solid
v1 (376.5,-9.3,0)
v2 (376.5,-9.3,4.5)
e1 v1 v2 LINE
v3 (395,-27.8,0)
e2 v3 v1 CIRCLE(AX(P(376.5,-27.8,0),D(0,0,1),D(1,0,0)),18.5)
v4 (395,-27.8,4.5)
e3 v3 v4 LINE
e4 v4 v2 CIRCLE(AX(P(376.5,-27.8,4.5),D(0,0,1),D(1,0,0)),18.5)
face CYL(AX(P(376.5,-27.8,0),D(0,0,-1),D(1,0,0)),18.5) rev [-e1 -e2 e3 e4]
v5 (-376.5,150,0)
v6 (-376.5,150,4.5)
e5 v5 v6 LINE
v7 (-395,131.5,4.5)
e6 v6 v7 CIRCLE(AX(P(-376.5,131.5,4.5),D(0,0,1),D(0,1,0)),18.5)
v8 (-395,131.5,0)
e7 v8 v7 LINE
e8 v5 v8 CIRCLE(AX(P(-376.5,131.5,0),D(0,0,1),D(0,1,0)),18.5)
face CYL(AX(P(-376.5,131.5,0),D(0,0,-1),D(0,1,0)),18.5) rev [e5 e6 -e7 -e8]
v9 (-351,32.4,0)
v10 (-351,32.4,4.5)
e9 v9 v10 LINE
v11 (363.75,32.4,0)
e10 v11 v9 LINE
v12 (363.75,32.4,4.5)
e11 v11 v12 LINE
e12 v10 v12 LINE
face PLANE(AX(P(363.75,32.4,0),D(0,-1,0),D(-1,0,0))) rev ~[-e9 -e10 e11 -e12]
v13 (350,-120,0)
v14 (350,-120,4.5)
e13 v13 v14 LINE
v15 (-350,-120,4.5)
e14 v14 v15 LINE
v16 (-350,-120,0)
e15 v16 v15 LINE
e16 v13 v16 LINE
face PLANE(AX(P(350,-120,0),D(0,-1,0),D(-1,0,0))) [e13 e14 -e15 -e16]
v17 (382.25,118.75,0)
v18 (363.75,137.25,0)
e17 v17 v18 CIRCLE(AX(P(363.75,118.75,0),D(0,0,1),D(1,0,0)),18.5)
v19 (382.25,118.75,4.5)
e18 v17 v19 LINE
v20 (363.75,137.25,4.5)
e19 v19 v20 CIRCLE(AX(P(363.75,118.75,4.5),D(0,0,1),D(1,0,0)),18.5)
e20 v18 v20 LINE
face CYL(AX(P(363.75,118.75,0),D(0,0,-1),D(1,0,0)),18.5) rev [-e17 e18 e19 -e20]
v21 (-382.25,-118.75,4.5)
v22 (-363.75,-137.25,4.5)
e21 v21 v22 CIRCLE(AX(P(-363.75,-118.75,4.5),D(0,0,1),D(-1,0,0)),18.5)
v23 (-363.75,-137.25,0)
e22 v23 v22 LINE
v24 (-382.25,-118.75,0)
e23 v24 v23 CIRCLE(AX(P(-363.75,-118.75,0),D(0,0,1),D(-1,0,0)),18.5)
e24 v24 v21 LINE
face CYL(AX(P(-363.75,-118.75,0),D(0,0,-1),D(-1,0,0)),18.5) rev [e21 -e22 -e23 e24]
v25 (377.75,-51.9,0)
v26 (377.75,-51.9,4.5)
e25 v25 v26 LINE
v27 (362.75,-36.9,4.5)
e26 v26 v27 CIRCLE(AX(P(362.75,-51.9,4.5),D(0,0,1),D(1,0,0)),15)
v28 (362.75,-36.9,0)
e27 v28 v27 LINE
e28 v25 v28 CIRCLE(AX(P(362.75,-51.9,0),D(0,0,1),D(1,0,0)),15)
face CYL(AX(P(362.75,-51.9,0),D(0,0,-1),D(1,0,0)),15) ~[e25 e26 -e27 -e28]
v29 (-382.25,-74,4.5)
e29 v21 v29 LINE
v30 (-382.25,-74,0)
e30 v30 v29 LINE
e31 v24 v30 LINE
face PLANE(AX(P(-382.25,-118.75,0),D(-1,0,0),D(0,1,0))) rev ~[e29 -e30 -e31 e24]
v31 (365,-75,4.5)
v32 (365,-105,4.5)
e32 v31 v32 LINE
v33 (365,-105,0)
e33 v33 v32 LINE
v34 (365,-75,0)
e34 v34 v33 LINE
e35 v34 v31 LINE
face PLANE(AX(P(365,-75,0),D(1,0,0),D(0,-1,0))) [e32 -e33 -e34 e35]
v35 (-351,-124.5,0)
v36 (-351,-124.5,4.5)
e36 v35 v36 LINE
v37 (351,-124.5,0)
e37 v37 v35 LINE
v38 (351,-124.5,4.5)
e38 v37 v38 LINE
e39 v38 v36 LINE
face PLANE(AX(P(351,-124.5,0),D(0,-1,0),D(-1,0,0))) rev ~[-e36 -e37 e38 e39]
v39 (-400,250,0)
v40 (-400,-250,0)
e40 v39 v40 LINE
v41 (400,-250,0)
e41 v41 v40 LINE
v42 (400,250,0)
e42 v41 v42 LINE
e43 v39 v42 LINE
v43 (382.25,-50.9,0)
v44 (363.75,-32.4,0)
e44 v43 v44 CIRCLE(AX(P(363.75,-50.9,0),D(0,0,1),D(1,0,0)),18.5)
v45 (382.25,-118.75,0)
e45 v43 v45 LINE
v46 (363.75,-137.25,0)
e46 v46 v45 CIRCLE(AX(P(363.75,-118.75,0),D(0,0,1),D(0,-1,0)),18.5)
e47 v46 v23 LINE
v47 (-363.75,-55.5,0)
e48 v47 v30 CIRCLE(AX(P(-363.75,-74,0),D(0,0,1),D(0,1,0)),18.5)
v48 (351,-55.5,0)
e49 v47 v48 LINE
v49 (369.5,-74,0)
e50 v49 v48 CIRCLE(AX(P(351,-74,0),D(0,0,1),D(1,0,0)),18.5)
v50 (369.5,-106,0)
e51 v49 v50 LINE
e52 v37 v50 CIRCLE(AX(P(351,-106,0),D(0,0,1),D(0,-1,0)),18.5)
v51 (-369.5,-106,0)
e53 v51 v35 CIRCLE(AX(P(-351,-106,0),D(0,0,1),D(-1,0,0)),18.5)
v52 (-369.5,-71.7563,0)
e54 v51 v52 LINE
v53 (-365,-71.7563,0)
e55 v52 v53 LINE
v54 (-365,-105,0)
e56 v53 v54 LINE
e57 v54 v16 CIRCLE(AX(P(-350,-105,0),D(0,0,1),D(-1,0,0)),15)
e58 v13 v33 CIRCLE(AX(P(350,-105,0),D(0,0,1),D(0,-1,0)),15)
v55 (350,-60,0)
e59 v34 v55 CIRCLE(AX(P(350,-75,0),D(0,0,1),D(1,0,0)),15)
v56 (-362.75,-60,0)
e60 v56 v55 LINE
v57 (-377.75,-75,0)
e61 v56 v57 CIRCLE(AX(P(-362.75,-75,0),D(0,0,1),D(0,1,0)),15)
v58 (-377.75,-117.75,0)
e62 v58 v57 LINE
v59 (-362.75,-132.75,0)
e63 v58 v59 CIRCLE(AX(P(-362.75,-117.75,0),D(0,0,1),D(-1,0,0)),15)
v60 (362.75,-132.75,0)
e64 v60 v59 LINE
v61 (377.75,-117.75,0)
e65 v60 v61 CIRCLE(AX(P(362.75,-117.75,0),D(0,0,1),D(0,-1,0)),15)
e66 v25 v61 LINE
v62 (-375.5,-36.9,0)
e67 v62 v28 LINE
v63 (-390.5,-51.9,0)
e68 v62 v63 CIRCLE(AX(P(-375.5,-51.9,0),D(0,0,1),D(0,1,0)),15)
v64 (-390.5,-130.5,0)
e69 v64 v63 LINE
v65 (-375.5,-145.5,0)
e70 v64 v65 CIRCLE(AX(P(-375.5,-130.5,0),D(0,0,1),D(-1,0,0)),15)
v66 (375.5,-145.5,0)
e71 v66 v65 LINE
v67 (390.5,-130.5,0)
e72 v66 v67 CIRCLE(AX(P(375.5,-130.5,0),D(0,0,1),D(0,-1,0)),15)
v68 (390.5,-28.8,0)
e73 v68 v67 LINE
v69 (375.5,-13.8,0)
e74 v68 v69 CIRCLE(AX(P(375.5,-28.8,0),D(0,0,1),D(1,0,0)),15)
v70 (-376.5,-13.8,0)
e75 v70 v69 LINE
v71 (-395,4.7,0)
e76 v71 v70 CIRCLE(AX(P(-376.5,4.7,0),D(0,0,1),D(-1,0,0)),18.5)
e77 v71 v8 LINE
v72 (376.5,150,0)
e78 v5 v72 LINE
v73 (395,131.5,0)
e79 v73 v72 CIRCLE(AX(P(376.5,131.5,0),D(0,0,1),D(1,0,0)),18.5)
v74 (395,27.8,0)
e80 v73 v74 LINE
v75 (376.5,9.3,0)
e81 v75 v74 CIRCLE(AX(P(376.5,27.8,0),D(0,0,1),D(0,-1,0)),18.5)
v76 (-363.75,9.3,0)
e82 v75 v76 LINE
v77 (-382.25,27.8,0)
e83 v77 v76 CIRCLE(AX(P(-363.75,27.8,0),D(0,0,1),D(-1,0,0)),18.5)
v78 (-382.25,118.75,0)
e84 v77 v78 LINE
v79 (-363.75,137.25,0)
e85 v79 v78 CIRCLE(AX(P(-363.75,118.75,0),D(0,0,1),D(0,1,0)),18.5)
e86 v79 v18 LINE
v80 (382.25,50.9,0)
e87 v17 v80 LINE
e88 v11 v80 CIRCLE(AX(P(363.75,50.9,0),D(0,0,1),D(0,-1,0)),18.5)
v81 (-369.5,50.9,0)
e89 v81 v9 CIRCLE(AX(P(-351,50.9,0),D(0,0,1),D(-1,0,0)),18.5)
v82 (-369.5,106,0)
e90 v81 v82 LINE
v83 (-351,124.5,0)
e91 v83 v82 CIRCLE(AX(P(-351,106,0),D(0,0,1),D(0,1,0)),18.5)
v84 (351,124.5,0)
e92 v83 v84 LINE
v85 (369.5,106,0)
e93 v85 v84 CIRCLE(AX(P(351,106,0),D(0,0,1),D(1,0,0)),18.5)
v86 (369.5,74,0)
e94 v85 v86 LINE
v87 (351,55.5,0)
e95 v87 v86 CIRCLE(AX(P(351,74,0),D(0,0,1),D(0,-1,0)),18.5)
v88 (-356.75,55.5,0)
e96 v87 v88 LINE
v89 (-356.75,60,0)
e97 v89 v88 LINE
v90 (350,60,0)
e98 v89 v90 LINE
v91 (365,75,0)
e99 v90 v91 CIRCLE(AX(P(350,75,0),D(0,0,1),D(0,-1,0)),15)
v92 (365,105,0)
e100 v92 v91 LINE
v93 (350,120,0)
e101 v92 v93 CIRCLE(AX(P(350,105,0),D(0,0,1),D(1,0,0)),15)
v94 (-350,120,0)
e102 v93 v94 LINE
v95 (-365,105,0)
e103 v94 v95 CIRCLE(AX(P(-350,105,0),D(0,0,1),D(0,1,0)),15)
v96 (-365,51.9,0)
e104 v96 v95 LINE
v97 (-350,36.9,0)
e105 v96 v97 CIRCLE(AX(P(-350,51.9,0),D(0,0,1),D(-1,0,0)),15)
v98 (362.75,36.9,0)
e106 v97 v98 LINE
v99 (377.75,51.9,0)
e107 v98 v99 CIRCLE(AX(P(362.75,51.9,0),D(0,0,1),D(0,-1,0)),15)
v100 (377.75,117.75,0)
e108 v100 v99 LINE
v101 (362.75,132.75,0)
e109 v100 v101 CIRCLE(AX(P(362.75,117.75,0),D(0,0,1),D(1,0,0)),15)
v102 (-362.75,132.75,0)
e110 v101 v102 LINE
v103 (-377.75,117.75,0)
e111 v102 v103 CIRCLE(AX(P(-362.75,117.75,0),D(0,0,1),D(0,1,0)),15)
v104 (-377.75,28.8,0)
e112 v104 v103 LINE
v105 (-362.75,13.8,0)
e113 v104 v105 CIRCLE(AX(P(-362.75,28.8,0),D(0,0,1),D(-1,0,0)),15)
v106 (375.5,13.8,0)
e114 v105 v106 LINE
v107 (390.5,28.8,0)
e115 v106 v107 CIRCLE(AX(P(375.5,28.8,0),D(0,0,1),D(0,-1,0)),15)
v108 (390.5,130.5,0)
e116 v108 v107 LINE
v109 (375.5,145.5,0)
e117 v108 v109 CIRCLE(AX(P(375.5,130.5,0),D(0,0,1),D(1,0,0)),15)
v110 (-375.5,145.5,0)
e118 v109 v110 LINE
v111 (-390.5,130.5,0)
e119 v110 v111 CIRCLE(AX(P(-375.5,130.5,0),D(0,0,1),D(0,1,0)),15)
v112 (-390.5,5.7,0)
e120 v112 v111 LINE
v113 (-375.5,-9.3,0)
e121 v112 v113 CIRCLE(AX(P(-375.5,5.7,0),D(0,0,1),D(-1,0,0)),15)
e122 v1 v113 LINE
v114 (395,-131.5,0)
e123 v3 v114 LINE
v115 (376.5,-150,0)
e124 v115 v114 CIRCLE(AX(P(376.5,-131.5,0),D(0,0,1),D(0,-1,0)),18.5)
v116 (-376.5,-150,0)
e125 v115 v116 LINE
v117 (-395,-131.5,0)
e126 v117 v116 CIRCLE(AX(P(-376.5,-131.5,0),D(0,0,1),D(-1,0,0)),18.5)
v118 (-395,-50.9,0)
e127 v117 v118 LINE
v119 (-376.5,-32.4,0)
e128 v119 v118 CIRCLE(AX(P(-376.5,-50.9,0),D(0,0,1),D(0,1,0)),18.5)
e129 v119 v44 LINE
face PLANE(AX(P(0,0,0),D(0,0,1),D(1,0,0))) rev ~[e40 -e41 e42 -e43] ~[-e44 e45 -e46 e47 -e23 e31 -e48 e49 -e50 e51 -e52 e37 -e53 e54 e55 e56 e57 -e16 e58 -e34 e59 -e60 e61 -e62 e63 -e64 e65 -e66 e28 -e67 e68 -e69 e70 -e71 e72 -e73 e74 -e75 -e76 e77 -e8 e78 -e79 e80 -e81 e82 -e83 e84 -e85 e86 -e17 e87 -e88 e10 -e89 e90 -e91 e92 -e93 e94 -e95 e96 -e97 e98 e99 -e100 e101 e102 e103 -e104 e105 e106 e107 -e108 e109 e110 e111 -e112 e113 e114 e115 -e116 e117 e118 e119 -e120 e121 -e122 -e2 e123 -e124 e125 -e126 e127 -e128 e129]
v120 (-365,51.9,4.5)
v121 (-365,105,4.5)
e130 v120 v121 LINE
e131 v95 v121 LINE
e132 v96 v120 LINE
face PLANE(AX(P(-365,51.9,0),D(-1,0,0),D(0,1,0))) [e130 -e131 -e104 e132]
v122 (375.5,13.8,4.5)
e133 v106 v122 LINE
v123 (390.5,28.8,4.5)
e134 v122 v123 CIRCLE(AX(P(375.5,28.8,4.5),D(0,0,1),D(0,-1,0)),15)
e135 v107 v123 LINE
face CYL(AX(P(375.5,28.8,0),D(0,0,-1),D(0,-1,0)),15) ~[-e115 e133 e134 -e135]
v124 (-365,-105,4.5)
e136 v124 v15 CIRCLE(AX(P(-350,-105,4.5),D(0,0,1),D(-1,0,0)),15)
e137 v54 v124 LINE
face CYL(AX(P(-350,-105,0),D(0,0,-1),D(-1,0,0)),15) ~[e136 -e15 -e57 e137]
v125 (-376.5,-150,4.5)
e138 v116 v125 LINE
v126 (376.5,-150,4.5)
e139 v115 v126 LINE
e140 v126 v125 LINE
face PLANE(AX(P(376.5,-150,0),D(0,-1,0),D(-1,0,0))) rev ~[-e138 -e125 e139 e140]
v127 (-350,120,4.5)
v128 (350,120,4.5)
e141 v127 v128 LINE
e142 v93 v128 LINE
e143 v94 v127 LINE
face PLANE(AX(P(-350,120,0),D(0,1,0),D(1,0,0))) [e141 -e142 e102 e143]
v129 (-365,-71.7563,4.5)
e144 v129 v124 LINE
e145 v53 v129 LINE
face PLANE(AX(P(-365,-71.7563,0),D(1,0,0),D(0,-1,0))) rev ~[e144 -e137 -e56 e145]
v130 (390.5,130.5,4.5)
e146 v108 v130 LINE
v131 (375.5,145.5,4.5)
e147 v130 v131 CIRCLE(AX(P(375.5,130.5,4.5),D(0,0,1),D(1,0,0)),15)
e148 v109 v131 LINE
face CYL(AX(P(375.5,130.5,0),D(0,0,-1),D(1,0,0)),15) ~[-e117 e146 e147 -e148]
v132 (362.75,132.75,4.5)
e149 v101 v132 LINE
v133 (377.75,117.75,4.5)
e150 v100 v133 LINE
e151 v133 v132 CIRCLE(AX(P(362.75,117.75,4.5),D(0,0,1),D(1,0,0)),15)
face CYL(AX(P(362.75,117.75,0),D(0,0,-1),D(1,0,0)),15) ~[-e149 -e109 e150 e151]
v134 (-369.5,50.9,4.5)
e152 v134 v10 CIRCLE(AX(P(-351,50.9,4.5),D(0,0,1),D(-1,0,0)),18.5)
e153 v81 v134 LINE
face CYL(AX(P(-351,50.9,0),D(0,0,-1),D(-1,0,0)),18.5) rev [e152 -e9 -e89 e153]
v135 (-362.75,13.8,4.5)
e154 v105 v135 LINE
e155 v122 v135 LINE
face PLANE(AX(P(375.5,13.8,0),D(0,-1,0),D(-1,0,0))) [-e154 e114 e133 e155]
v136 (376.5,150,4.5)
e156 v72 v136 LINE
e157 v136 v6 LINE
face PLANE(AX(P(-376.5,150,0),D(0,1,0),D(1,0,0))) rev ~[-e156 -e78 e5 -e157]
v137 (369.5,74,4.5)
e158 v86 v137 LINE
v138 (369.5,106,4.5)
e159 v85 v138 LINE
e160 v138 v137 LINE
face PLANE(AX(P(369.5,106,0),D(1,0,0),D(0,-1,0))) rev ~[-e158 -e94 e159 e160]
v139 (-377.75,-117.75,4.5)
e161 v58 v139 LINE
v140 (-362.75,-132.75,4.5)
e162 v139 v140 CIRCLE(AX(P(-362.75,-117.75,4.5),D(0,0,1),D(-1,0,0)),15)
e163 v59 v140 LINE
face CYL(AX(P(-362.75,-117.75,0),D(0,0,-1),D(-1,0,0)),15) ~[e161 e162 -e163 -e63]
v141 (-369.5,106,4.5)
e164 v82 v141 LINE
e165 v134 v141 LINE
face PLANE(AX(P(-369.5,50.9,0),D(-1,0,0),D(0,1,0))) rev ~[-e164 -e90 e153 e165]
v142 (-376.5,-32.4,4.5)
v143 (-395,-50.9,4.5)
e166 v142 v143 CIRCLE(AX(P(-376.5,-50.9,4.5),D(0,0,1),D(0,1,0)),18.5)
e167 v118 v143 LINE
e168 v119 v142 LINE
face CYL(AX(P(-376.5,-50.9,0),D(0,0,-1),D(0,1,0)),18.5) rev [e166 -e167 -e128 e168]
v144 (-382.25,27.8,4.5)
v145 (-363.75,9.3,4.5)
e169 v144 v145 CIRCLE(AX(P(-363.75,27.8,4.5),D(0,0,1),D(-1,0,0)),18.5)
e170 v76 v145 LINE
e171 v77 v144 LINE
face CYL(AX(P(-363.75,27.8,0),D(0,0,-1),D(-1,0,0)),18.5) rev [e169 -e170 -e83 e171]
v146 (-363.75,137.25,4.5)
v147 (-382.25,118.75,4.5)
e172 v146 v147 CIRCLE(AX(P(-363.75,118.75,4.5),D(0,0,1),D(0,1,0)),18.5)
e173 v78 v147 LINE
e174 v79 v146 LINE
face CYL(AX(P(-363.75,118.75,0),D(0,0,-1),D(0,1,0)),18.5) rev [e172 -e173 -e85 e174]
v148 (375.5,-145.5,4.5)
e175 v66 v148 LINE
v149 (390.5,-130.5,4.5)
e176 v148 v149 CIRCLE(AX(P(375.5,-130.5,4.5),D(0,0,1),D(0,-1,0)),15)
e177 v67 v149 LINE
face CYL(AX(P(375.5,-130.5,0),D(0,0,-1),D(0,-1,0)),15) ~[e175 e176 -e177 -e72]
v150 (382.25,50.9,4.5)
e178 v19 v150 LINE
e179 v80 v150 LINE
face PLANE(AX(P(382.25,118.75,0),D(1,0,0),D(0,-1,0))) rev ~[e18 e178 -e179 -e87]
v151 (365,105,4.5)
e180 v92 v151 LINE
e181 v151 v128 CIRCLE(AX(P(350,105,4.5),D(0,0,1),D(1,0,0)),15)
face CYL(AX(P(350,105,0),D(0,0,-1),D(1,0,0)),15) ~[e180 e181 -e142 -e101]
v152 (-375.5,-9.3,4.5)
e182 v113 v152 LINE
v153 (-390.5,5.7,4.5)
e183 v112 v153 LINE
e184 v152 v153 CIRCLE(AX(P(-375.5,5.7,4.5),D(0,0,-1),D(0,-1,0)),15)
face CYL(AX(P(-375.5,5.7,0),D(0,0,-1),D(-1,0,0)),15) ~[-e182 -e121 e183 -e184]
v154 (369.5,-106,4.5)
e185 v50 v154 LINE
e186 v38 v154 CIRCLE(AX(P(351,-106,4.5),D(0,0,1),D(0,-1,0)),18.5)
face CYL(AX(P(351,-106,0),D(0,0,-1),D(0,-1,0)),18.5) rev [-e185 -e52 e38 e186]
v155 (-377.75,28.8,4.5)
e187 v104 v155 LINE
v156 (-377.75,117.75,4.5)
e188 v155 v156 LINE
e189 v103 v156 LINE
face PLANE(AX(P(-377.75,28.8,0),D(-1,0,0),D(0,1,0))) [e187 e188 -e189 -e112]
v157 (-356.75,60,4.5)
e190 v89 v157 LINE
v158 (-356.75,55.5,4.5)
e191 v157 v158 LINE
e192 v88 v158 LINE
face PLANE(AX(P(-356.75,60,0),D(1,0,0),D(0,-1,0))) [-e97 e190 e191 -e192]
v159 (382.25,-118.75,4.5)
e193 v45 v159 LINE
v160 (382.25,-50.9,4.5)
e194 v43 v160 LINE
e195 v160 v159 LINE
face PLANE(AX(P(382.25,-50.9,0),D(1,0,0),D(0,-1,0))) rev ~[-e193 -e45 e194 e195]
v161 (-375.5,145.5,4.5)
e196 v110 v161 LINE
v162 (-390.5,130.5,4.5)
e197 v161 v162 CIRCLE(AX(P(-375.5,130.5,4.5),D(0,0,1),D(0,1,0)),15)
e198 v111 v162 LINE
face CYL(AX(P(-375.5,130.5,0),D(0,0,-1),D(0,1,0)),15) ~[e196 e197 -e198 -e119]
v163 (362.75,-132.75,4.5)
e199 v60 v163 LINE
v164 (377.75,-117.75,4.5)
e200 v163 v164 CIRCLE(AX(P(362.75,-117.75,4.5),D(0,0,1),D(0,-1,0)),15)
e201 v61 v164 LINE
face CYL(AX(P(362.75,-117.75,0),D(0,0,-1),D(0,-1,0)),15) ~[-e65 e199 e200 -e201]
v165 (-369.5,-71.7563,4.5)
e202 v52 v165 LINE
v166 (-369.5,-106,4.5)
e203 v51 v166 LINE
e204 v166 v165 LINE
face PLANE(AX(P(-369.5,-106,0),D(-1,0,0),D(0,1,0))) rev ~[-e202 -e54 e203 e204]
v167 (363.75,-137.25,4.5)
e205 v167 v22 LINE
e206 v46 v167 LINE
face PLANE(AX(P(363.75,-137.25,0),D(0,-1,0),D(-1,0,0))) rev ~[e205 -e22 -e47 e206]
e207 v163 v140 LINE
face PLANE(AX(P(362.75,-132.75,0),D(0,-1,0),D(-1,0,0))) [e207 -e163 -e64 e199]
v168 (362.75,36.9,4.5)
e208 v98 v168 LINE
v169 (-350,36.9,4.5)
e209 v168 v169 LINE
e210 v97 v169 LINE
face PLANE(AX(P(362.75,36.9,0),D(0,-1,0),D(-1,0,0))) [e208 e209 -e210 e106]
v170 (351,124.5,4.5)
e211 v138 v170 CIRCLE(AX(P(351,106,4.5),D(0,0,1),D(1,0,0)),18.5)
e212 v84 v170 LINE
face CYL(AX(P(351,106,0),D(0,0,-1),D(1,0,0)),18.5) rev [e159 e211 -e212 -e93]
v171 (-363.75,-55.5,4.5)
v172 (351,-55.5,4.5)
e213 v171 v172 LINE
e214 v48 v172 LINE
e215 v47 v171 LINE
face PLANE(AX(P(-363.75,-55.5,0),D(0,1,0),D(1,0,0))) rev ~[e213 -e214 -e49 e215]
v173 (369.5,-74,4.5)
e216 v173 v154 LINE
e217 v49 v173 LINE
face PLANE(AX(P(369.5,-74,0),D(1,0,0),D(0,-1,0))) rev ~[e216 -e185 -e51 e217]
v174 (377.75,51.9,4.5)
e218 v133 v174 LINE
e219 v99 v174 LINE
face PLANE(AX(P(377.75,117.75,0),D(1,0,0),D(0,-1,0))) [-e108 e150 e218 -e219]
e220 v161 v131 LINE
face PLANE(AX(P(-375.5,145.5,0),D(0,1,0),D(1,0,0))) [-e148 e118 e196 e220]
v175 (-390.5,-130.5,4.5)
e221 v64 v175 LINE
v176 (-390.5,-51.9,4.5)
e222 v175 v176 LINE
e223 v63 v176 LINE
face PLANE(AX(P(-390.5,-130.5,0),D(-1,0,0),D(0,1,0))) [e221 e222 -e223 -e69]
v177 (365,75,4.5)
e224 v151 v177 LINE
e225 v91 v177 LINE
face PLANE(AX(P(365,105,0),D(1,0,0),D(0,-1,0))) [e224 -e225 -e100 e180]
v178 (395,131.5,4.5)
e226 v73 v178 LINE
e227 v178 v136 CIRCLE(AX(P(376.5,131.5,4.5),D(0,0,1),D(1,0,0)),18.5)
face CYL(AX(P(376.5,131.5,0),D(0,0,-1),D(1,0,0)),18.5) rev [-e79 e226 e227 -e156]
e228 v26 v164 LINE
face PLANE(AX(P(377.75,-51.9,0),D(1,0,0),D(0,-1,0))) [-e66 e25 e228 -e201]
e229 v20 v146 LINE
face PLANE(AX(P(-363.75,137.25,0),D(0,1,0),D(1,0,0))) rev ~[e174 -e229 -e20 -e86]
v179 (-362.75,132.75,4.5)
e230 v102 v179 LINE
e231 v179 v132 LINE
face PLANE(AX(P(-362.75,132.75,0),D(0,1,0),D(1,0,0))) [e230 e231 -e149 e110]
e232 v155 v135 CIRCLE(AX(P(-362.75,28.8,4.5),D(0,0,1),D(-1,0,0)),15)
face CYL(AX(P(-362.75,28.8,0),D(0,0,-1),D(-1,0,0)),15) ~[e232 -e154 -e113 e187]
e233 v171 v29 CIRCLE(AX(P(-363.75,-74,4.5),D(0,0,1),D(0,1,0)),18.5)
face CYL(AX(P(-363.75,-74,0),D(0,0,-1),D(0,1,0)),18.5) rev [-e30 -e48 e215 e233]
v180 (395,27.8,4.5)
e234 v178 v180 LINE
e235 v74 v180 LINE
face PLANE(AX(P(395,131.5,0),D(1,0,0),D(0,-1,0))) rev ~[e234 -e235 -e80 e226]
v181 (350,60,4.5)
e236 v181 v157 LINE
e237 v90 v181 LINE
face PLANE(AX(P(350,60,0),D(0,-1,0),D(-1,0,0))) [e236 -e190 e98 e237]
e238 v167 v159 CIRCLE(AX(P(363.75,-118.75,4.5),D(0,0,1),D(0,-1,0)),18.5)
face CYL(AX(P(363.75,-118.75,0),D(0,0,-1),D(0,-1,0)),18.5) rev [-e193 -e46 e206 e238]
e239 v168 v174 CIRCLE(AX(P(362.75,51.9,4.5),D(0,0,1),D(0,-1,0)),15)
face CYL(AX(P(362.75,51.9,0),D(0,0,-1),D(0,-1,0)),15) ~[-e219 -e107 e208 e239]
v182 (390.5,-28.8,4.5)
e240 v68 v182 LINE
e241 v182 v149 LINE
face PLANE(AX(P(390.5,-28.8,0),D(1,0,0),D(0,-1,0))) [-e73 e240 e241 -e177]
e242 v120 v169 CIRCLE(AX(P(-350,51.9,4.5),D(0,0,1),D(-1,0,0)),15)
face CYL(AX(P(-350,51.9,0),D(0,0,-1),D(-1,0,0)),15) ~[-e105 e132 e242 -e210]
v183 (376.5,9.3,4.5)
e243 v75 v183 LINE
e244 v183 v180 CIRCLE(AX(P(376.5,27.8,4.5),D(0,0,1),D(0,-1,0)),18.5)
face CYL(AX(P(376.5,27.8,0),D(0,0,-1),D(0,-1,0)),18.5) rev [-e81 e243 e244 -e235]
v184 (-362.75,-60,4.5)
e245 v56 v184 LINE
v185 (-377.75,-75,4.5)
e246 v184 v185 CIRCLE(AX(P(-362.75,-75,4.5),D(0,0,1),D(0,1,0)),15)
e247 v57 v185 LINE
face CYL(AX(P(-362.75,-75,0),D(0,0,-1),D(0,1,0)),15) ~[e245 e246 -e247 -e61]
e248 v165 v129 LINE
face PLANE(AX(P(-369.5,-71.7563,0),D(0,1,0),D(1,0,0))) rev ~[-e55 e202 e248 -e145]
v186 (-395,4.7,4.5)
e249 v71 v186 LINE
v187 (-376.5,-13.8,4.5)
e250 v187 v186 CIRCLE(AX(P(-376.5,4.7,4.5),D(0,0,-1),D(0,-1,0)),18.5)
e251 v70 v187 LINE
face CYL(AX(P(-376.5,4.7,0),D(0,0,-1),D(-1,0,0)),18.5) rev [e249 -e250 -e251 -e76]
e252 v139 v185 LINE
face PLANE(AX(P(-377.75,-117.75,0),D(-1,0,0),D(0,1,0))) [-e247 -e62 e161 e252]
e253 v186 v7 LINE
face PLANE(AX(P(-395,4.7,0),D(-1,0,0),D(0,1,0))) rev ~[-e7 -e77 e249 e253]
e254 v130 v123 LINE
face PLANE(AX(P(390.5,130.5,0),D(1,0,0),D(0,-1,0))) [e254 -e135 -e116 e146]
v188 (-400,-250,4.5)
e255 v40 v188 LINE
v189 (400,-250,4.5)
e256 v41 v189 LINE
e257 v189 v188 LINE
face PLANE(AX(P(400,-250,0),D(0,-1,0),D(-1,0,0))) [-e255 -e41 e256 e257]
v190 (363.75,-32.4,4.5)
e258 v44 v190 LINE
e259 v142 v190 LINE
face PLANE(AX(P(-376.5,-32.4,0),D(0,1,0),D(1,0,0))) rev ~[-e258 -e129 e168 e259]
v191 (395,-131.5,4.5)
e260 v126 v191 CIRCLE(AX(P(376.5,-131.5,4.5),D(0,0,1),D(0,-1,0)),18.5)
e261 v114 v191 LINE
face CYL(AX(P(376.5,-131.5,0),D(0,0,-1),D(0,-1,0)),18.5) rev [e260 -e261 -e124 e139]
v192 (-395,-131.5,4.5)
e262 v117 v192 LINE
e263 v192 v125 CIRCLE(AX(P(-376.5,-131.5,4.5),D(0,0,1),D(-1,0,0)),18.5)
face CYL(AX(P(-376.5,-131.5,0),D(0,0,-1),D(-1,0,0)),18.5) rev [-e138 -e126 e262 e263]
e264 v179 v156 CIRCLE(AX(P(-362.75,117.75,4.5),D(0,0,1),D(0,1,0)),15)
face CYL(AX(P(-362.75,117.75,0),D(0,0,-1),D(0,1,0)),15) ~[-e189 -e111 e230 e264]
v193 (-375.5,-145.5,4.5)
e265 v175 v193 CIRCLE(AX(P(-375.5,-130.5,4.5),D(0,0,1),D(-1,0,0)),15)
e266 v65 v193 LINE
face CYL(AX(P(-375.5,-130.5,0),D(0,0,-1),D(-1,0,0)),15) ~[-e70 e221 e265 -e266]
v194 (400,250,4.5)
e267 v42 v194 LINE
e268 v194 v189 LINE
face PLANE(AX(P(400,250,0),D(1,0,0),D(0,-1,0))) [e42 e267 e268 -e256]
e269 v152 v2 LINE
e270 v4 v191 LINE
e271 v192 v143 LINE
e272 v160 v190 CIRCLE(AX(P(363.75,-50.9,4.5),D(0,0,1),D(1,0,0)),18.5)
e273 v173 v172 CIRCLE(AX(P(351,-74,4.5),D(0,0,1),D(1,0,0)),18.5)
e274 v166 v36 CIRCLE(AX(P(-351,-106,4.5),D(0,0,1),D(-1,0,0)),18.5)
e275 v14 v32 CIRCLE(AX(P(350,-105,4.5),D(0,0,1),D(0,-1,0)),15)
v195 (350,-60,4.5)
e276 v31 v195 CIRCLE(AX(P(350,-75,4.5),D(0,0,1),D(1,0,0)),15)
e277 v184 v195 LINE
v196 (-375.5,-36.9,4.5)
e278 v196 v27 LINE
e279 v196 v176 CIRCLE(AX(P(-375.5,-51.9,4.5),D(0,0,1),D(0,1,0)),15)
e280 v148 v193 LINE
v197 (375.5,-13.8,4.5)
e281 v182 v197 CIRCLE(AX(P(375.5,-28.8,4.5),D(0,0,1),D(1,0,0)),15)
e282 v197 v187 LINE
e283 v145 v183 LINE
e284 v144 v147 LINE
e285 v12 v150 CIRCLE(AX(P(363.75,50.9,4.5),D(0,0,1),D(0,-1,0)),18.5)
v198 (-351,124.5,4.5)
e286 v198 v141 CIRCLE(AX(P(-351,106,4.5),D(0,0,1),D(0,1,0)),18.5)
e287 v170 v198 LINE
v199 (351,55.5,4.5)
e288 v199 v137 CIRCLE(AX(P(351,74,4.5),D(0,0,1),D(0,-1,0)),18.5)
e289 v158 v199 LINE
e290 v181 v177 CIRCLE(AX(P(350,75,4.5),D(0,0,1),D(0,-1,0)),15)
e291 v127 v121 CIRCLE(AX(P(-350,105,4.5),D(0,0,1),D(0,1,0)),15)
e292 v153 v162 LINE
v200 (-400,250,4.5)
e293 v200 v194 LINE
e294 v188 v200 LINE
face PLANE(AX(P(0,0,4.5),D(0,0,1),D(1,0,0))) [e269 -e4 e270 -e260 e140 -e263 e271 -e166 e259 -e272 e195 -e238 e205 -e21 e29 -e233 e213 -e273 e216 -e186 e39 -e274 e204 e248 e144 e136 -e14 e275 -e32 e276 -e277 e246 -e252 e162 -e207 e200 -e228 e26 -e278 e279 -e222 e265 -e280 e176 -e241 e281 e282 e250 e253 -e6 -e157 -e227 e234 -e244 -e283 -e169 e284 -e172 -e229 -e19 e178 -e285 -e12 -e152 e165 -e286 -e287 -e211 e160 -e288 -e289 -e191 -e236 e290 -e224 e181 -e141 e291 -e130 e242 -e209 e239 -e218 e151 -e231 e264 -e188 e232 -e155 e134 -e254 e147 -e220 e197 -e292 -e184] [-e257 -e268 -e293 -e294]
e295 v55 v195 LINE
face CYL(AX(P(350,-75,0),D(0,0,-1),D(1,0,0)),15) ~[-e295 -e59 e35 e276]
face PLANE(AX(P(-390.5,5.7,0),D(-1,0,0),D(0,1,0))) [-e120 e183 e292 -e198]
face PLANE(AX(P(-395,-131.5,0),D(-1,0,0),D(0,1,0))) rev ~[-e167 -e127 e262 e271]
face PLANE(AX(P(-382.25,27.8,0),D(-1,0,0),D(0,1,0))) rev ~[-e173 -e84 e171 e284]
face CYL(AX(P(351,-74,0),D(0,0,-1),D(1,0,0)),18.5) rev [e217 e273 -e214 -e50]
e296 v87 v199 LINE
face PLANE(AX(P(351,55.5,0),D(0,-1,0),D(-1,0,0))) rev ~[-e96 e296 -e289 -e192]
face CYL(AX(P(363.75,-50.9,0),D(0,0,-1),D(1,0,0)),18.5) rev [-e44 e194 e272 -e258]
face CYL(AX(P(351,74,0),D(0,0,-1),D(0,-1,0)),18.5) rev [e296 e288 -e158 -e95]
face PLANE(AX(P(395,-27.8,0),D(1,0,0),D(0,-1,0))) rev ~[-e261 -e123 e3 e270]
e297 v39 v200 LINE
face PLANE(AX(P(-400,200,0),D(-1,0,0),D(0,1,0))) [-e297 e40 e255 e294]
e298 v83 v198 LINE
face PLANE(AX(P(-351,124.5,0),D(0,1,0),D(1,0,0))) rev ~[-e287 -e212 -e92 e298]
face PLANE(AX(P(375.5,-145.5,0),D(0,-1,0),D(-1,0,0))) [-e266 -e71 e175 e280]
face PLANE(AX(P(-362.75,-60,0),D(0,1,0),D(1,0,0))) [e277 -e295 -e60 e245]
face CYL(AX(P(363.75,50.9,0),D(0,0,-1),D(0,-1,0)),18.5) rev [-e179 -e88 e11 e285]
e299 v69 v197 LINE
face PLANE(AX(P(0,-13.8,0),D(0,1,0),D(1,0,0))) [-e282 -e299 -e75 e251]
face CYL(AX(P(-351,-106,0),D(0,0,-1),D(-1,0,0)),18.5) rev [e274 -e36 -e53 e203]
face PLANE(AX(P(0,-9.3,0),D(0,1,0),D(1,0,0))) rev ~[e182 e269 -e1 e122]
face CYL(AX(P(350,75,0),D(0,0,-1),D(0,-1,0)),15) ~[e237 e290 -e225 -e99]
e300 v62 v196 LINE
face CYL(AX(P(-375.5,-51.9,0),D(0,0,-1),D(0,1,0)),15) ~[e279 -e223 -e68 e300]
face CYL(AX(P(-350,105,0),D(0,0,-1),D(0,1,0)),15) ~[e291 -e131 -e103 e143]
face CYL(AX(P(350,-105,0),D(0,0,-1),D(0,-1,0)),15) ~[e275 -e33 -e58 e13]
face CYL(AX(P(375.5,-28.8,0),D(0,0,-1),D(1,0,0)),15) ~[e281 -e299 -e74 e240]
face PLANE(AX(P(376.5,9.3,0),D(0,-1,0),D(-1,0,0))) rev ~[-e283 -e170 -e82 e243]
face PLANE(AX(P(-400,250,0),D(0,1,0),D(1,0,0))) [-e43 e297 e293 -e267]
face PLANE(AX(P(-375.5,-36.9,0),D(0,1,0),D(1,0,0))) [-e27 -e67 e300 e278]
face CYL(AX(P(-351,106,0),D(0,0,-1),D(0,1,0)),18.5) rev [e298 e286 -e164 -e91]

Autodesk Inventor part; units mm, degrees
ref_plane "YZ Plane" through (0, 0, 0) normal (1, 0, 0) x (0, 1, 0)
ref_plane "XZ Plane" through (0, 0, 0) normal (0, 1, 0) x (-1, 0, 0)
sketch "layer_layout_sketch" plane through (0, 0, 0) normal (0, 0, 1) x (1, 0, 0)
  line L0 (-400, 250) -> (400, 250)
  line L1 (400, 250) -> (400, -250)
  line L2 (400, -250) -> (-400, -250)
  line L3 (-400, -250) -> (-400, 250)
  line L4 (0, 250) -> (0, -250) construction
  line L5 (-400, 200) -> (400, 200)
  line L6 (400, 200) -> (400, -200)
  line L7 (400, -200) -> (-400, -200)
  line L8 (-400, -200) -> (-400, 200)
  line L9 (0, 200) -> (0, -200) construction
  line L10 (-400, 150) -> (400, 150)
  line L11 (400, 150) -> (400, -150)
  line L12 (400, -150) -> (-400, -150)
  line L13 (-400, -150) -> (-400, 150)
  line L14 (0, 150) -> (0, -150) construction
  point P0 (0, 0)
  point P1 (0, 0)
  dimension "d116" = 500
  dimension "d117" = 800
  dimension "d122" = 400
  dimension "d123" = 300
sketch "coil_layer_sketch_lower" plane through (0, 0, 0) normal (0, 0, 1) x (1, 0, 0)
  line L0 (0, -9.3) -> (376.5, -9.3)
  line L1 (395, -27.8) -> (395, -131.5)
  line L2 (376.5, -150) -> (-376.5, -150)
  line L3 (-395, -131.5) -> (-395, -50.9)
  line L4 (0, -9.3) -> (0, -13.8)
  line L5 (0, -13.8) -> (375.5, -13.8)
  line L6 (390.5, -28.8) -> (390.5, -130.5)
  line L7 (375.5, -145.5) -> (-375.5, -145.5)
  line L8 (-376.5, -32.4) -> (363.75, -32.4)
  line L9 (382.25, -50.9) -> (382.25, -118.75)
  line L10 (363.75, -137.25) -> (-363.75, -137.25)
  line L11 (-390.5, -130.5) -> (-390.5, -51.9)
  line L12 (-375.5, -36.9) -> (362.75, -36.9)
  line L13 (377.75, -51.9) -> (377.75, -117.75)
  line L14 (362.75, -132.75) -> (-362.75, -132.75)
  line L15 (-377.75, -117.75) -> (-377.75, -75)
  line L16 (-382.25, -118.75) -> (-382.25, -74)
  line L17 (-363.75, -55.5) -> (351, -55.5)
  line L18 (369.5, -74) -> (369.5, -106)
  line L19 (-362.75, -60) -> (350, -60)
  line L20 (365, -75) -> (365, -105)
  line L21 (-558.3641, 0) -> (558.3641, 0) projected
  line L22 (350, -120) -> (-350, -120)
  line L23 (351, -124.5) -> (-351, -124.5)
  line L24 (-369.5, -106) -> (-369.5, -71.7563)
  line L25 (-369.5, -71.7563) -> (-365, -71.7563)
  line L26 (-365, -71.7563) -> (-365, -105)
  arc A0 (395, -27.8) -> (376.5, -9.3) centre (376.5, -27.8) ccw
  arc A1 (382.25, -50.9) -> (363.75, -32.4) centre (363.75, -50.9) ccw
  arc A2 (369.5, -74) -> (351, -55.5) centre (351, -74) ccw
  arc A3 (351, -124.5) -> (369.5, -106) centre (351, -106) ccw
  arc A4 (363.75, -137.25) -> (382.25, -118.75) centre (363.75, -118.75) ccw
  arc A5 (376.5, -150) -> (395, -131.5) centre (376.5, -131.5) ccw
  arc A6 (-395, -131.5) -> (-376.5, -150) centre (-376.5, -131.5) ccw
  arc A7 (-382.25, -118.75) -> (-363.75, -137.25) centre (-363.75, -118.75) ccw
  arc A8 (-369.5, -106) -> (-351, -124.5) centre (-351, -106) ccw
  arc A9 (-376.5, -32.4) -> (-395, -50.9) centre (-376.5, -50.9) ccw
  arc A10 (-363.75, -55.5) -> (-382.25, -74) centre (-363.75, -74) ccw
  arc A11 (-375.5, -36.9) -> (-390.5, -51.9) centre (-375.5, -51.9) ccw
  arc A12 (-362.75, -60) -> (-377.75, -75) centre (-362.75, -75) ccw
  arc A13 (-390.5, -130.5) -> (-375.5, -145.5) centre (-375.5, -130.5) ccw
  arc A14 (-377.75, -117.75) -> (-362.75, -132.75) centre (-362.75, -117.75) ccw
  arc A15 (-365, -105) -> (-350, -120) centre (-350, -105) ccw
  arc A16 (350, -120) -> (365, -105) centre (350, -105) ccw
  arc A17 (362.75, -132.75) -> (377.75, -117.75) centre (362.75, -117.75) ccw
  arc A18 (375.5, -145.5) -> (390.5, -130.5) centre (375.5, -130.5) ccw
  arc A19 (377.75, -51.9) -> (362.75, -36.9) centre (362.75, -51.9) ccw
  arc A20 (390.5, -28.8) -> (375.5, -13.8) centre (375.5, -28.8) ccw
  arc A21 (365, -75) -> (350, -60) centre (350, -75) ccw
  point P0 (0, 0)
  point P1 (0, 0)
  point P2 (368.0934, -60)
  point P3 (370, -61.9066)
  point P4 (0, -150)
  dimension "d1" = 4.5
  dimension "d2" = 4.5
  dimension "d3" = 4.5
  dimension "d4" = 9.3
  dimension "d5" = 790
  dimension "d6" = 395
  dimension "d7" = 4.5
  dimension "d8" = 4.5
  dimension "d9" = 8.25
  dimension "d10" = 4.5
  dimension "d11" = 18.6
  dimension "d12" = 4.5
  dimension "d13" = 8.25
  dimension "d14" = 4.5
  dimension "d15" = 4.5
  dimension "d16" = 4.5
  dimension "d17" = 8.25
  dimension "d19" = 18.6
  dimension "d20" = 8.25
  dimension "d82" = 150
  dimension "d88" = 4.5
  dimension "d89" = 8.25
  dimension "d96" = 4.5
  dimension "d97" = 8.25
  dimension "d98" = 18.5
  dimension "d99" = 15
  dimension "d109" = 15
sketch "coil_layer_sketch_upper" plane through (0, 0, 0) normal (0, 0, 1) x (1, 0, 0)
  line L0 (0, -13.8) -> (-376.5, -13.8)
  line L1 (-395, 4.7) -> (-395, 131.5)
  line L2 (-376.5, 150) -> (376.5, 150)
  line L3 (395, 131.5) -> (395, 27.8)
  line L4 (0, -9.3) -> (-375.5, -9.3)
  line L5 (-390.5, 5.7) -> (-390.5, 130.5)
  line L6 (-375.5, 145.5) -> (375.5, 145.5)
  line L7 (390.5, 130.5) -> (390.5, 28.8)
  line L8 (375.5, 13.8) -> (-362.75, 13.8)
  line L9 (-377.75, 28.8) -> (-377.75, 117.75)
  line L10 (376.5, 9.3) -> (-363.75, 9.3)
  line L11 (-382.25, 27.8) -> (-382.25, 118.75)
  line L12 (-362.75, 132.75) -> (362.75, 132.75)
  line L13 (-363.75, 137.25) -> (363.75, 137.25)
  line L14 (377.75, 117.75) -> (377.75, 51.9)
  line L15 (362.75, 36.9) -> (-350, 36.9)
  line L16 (382.25, 118.75) -> (382.25, 50.9)
  line L17 (363.75, 32.4) -> (-351, 32.4)
  line L18 (-365, 51.9) -> (-365, 105)
  line L19 (-350, 120) -> (350, 120)
  line L20 (365, 105) -> (365, 75)
  line L21 (350, 60) -> (-356.75, 60)
  line L22 (-369.5, 50.9) -> (-369.5, 106)
  line L23 (-351, 124.5) -> (351, 124.5)
  line L24 (369.5, 106) -> (369.5, 74)
  line L25 (351, 55.5) -> (-356.75, 55.5)
  line L26 (-356.75, 60) -> (-356.75, 55.5)
  line L27 (-700, 0) -> (700, 0)
  line L28 (-980, 0) -> (980, 0) projected
  line L29 (0, -13.8) -> (0, -9.3)
  line L30 (0, -51.9241) -> (0, 188.1241) projected
  arc A0 (365, 105) -> (350, 120) centre (350, 105) ccw
  arc A1 (350, 60) -> (365, 75) centre (350, 75) ccw
  arc A2 (377.75, 117.75) -> (362.75, 132.75) centre (362.75, 117.75) ccw
  arc A3 (362.75, 36.9) -> (377.75, 51.9) centre (362.75, 51.9) ccw
  arc A4 (390.5, 130.5) -> (375.5, 145.5) centre (375.5, 130.5) ccw
  arc A5 (375.5, 13.8) -> (390.5, 28.8) centre (375.5, 28.8) ccw
  arc A6 (-350, 120) -> (-365, 105) centre (-350, 105) ccw
  arc A7 (-365, 51.9) -> (-350, 36.9) centre (-350, 51.9) ccw
  arc A8 (-377.75, 28.8) -> (-362.75, 13.8) centre (-362.75, 28.8) ccw
  arc A9 (-390.5, 5.7) -> (-375.5, -9.3) centre (-375.5, 5.7) ccw
  arc A10 (-362.75, 132.75) -> (-377.75, 117.75) centre (-362.75, 117.75) ccw
  arc A11 (-375.5, 145.5) -> (-390.5, 130.5) centre (-375.5, 130.5) ccw
  arc A12 (-376.5, 150) -> (-395, 131.5) centre (-376.5, 131.5) ccw
  arc A13 (-363.75, 137.25) -> (-382.25, 118.75) centre (-363.75, 118.75) ccw
  arc A14 (-351, 124.5) -> (-369.5, 106) centre (-351, 106) ccw
  arc A15 (-369.5, 50.9) -> (-351, 32.4) centre (-351, 50.9) ccw
  arc A16 (-382.25, 27.8) -> (-363.75, 9.3) centre (-363.75, 27.8) ccw
  arc A17 (-395, 4.7) -> (-376.5, -13.8) centre (-376.5, 4.7) ccw
  arc A18 (351, 55.5) -> (369.5, 74) centre (351, 74) ccw
  arc A19 (363.75, 32.4) -> (382.25, 50.9) centre (363.75, 50.9) ccw
  arc A20 (376.5, 9.3) -> (395, 27.8) centre (376.5, 27.8) ccw
  arc A21 (395, 131.5) -> (376.5, 150) centre (376.5, 131.5) ccw
  arc A22 (382.25, 118.75) -> (363.75, 137.25) centre (363.75, 118.75) ccw
  arc A23 (369.5, 106) -> (351, 124.5) centre (351, 106) ccw
  point P0 (0, 0)
  point P1 (395, 9.3)
  point P2 (-382.25, 9.3)
  point P3 (0, 150)
  point P4 (-700, 0)
  point P5 (700, 0)
  point P6 (0, 150)
  dimension "d58" = 4.5
  dimension "d59" = 4.5
  dimension "d60" = 4.5
  dimension "d61" = 8.25
  dimension "d62" = 8.25
  dimension "d64" = 4.5
  dimension "d65" = 4.5
  dimension "d66" = 4.5
  dimension "d67" = 8.25
  dimension "d69" = 18.6
  dimension "d70" = 4.5
  dimension "d71" = 4.5
  dimension "d72" = 18.6
  dimension "d73" = 8.25
  dimension "d74" = 8.25
  dimension "d75" = 4.5
  dimension "d77" = 18.6
  dimension "d78" = 4.5
  dimension "d79" = 4.5
  dimension "d80" = 4.5
  dimension "d83" = 150
  dimension "d87" = 8.25
  dimension "d91" = 4.5
  dimension "d92" = 9.3
  dimension "d93" = 790
  dimension "d100" = 15
  dimension "d101" = 18.5
  dimension "d102" = 8.25
extrude "layer_sheet Extrude" add sketch "layer_layout_sketch" along normal blind 4.5
extrude "wire_holes_upper Cut" cut sketch "coil_layer_sketch_upper" along normal blind 4.5 contours L0 A17 L27 A9 L4 L29 | A17 L1 A12 L2 L30 L6 A11 L5 A9 L27 | L30 L8 A5 L7 A4 L6 L2 A21 L3 A20 L10 | L10 A16 L11 A13 L13 L30 L12 A10 L9 A8 L8 | L30 L15 A3 L14 A2 L12 L13 A22 L16 A19 L17 | L17 A15 L22 A14 L23 L30 L19 A6 L18 A7 L15 | L30 L21 A1 L20 A0 L19 L23 A23 L24 A18 L25 | L25 L26 L21 L30
extrude "wire_holes_lower Cut" cut sketch "coil_layer_sketch_lower" along normal blind 4.5
sketch "Sketch6" plane through (0, 0, 4.5) normal (0, 0, 1) x (1, 0, 0)
  circle A0 centre (-353, 57.75) radius 3
  line L0 (400, 250) -> (-400, 250) projected
  line L1 (-400, 250) -> (-400, -250) projected
  line L2 (-400, -250) -> (400, -250) projected
  circle A1 centre (-353, -122) radius 3
  point P0 (0, 0)
  dimension "d124" = 6
  dimension "d125" = 192.25
  dimension "d126" = 47
  dimension "d130" = 6
  dimension "d131" = 128
  dimension "d132" = 47
equation "\"d1\" = wire_diameter"
equation "\"d2\" = wire_diameter"
equation "\"d3\" = wire_diameter"
equation "\"d4\" = 0.5 * distance_between_wires"
equation "\"d6\" = 0.5 * track_length"
equation "\"d7\" = wire_diameter"
equation "\"d8\" = wire_diameter"
equation "\"d9\" = distance_between_wires_edge"
equation "\"d10\" = wire_diameter"
equation "\"d11\" = distance_between_wires"
equation "\"d12\" = wire_diameter"
equation "\"d13\" = distance_between_wires_edge"
equation "\"d14\" = wire_diameter"
equation "\"d15\" = wire_diameter"
equation "\"d16\" = wire_diameter"
equation "\"d17\" = distance_between_wires_edge"
equation "\"d19\" = distance_between_wires"
equation "\"d20\" = distance_between_wires_edge"
equation "\"d82\" = 0.5 * track_width"
equation "\"d58\" = wire_diameter"
equation "\"d59\" = wire_diameter"
equation "\"d60\" = wire_diameter"
equation "\"d61\" = distance_between_wires_edge"
equation "\"d62\" = distance_between_wires_edge"
equation "\"d64\" = wire_diameter"
equation "\"d65\" = wire_diameter"
equation "\"d66\" = wire_diameter"
equation "\"d67\" = distance_between_wires_edge"
equation "\"d69\" = distance_between_wires"
equation "\"d70\" = wire_diameter"
equation "\"d71\" = wire_diameter"
equation "\"d72\" = distance_between_wires"
equation "\"d73\" = distance_between_wires_edge"
equation "\"d74\" = distance_between_wires_edge"
equation "\"d75\" = wire_diameter"
equation "\"d77\" = distance_between_wires"
equation "\"d78\" = wire_diameter"
equation "\"d79\" = wire_diameter"
equation "\"d80\" = wire_diameter"
equation "\"d83\" = 0.5 * track_width"
equation "\"wire_diameter\" = 4.5"
equation "\"distance_between_wires\" = -1.2 * wire_diameter + 0.2 * parameter_6"
equation "\"distance_between_wires_edge\" = 8.25"
equation "\"bend_radius_inner\" = 15"
equation "\"bend_radius_outer\" = 18.5"
equation "\"track_width\" = 300"
equation "\"parameter_6\" = 120"
equation "\"track_length\" = 790"
properties part number "primary_coil_0R2"
